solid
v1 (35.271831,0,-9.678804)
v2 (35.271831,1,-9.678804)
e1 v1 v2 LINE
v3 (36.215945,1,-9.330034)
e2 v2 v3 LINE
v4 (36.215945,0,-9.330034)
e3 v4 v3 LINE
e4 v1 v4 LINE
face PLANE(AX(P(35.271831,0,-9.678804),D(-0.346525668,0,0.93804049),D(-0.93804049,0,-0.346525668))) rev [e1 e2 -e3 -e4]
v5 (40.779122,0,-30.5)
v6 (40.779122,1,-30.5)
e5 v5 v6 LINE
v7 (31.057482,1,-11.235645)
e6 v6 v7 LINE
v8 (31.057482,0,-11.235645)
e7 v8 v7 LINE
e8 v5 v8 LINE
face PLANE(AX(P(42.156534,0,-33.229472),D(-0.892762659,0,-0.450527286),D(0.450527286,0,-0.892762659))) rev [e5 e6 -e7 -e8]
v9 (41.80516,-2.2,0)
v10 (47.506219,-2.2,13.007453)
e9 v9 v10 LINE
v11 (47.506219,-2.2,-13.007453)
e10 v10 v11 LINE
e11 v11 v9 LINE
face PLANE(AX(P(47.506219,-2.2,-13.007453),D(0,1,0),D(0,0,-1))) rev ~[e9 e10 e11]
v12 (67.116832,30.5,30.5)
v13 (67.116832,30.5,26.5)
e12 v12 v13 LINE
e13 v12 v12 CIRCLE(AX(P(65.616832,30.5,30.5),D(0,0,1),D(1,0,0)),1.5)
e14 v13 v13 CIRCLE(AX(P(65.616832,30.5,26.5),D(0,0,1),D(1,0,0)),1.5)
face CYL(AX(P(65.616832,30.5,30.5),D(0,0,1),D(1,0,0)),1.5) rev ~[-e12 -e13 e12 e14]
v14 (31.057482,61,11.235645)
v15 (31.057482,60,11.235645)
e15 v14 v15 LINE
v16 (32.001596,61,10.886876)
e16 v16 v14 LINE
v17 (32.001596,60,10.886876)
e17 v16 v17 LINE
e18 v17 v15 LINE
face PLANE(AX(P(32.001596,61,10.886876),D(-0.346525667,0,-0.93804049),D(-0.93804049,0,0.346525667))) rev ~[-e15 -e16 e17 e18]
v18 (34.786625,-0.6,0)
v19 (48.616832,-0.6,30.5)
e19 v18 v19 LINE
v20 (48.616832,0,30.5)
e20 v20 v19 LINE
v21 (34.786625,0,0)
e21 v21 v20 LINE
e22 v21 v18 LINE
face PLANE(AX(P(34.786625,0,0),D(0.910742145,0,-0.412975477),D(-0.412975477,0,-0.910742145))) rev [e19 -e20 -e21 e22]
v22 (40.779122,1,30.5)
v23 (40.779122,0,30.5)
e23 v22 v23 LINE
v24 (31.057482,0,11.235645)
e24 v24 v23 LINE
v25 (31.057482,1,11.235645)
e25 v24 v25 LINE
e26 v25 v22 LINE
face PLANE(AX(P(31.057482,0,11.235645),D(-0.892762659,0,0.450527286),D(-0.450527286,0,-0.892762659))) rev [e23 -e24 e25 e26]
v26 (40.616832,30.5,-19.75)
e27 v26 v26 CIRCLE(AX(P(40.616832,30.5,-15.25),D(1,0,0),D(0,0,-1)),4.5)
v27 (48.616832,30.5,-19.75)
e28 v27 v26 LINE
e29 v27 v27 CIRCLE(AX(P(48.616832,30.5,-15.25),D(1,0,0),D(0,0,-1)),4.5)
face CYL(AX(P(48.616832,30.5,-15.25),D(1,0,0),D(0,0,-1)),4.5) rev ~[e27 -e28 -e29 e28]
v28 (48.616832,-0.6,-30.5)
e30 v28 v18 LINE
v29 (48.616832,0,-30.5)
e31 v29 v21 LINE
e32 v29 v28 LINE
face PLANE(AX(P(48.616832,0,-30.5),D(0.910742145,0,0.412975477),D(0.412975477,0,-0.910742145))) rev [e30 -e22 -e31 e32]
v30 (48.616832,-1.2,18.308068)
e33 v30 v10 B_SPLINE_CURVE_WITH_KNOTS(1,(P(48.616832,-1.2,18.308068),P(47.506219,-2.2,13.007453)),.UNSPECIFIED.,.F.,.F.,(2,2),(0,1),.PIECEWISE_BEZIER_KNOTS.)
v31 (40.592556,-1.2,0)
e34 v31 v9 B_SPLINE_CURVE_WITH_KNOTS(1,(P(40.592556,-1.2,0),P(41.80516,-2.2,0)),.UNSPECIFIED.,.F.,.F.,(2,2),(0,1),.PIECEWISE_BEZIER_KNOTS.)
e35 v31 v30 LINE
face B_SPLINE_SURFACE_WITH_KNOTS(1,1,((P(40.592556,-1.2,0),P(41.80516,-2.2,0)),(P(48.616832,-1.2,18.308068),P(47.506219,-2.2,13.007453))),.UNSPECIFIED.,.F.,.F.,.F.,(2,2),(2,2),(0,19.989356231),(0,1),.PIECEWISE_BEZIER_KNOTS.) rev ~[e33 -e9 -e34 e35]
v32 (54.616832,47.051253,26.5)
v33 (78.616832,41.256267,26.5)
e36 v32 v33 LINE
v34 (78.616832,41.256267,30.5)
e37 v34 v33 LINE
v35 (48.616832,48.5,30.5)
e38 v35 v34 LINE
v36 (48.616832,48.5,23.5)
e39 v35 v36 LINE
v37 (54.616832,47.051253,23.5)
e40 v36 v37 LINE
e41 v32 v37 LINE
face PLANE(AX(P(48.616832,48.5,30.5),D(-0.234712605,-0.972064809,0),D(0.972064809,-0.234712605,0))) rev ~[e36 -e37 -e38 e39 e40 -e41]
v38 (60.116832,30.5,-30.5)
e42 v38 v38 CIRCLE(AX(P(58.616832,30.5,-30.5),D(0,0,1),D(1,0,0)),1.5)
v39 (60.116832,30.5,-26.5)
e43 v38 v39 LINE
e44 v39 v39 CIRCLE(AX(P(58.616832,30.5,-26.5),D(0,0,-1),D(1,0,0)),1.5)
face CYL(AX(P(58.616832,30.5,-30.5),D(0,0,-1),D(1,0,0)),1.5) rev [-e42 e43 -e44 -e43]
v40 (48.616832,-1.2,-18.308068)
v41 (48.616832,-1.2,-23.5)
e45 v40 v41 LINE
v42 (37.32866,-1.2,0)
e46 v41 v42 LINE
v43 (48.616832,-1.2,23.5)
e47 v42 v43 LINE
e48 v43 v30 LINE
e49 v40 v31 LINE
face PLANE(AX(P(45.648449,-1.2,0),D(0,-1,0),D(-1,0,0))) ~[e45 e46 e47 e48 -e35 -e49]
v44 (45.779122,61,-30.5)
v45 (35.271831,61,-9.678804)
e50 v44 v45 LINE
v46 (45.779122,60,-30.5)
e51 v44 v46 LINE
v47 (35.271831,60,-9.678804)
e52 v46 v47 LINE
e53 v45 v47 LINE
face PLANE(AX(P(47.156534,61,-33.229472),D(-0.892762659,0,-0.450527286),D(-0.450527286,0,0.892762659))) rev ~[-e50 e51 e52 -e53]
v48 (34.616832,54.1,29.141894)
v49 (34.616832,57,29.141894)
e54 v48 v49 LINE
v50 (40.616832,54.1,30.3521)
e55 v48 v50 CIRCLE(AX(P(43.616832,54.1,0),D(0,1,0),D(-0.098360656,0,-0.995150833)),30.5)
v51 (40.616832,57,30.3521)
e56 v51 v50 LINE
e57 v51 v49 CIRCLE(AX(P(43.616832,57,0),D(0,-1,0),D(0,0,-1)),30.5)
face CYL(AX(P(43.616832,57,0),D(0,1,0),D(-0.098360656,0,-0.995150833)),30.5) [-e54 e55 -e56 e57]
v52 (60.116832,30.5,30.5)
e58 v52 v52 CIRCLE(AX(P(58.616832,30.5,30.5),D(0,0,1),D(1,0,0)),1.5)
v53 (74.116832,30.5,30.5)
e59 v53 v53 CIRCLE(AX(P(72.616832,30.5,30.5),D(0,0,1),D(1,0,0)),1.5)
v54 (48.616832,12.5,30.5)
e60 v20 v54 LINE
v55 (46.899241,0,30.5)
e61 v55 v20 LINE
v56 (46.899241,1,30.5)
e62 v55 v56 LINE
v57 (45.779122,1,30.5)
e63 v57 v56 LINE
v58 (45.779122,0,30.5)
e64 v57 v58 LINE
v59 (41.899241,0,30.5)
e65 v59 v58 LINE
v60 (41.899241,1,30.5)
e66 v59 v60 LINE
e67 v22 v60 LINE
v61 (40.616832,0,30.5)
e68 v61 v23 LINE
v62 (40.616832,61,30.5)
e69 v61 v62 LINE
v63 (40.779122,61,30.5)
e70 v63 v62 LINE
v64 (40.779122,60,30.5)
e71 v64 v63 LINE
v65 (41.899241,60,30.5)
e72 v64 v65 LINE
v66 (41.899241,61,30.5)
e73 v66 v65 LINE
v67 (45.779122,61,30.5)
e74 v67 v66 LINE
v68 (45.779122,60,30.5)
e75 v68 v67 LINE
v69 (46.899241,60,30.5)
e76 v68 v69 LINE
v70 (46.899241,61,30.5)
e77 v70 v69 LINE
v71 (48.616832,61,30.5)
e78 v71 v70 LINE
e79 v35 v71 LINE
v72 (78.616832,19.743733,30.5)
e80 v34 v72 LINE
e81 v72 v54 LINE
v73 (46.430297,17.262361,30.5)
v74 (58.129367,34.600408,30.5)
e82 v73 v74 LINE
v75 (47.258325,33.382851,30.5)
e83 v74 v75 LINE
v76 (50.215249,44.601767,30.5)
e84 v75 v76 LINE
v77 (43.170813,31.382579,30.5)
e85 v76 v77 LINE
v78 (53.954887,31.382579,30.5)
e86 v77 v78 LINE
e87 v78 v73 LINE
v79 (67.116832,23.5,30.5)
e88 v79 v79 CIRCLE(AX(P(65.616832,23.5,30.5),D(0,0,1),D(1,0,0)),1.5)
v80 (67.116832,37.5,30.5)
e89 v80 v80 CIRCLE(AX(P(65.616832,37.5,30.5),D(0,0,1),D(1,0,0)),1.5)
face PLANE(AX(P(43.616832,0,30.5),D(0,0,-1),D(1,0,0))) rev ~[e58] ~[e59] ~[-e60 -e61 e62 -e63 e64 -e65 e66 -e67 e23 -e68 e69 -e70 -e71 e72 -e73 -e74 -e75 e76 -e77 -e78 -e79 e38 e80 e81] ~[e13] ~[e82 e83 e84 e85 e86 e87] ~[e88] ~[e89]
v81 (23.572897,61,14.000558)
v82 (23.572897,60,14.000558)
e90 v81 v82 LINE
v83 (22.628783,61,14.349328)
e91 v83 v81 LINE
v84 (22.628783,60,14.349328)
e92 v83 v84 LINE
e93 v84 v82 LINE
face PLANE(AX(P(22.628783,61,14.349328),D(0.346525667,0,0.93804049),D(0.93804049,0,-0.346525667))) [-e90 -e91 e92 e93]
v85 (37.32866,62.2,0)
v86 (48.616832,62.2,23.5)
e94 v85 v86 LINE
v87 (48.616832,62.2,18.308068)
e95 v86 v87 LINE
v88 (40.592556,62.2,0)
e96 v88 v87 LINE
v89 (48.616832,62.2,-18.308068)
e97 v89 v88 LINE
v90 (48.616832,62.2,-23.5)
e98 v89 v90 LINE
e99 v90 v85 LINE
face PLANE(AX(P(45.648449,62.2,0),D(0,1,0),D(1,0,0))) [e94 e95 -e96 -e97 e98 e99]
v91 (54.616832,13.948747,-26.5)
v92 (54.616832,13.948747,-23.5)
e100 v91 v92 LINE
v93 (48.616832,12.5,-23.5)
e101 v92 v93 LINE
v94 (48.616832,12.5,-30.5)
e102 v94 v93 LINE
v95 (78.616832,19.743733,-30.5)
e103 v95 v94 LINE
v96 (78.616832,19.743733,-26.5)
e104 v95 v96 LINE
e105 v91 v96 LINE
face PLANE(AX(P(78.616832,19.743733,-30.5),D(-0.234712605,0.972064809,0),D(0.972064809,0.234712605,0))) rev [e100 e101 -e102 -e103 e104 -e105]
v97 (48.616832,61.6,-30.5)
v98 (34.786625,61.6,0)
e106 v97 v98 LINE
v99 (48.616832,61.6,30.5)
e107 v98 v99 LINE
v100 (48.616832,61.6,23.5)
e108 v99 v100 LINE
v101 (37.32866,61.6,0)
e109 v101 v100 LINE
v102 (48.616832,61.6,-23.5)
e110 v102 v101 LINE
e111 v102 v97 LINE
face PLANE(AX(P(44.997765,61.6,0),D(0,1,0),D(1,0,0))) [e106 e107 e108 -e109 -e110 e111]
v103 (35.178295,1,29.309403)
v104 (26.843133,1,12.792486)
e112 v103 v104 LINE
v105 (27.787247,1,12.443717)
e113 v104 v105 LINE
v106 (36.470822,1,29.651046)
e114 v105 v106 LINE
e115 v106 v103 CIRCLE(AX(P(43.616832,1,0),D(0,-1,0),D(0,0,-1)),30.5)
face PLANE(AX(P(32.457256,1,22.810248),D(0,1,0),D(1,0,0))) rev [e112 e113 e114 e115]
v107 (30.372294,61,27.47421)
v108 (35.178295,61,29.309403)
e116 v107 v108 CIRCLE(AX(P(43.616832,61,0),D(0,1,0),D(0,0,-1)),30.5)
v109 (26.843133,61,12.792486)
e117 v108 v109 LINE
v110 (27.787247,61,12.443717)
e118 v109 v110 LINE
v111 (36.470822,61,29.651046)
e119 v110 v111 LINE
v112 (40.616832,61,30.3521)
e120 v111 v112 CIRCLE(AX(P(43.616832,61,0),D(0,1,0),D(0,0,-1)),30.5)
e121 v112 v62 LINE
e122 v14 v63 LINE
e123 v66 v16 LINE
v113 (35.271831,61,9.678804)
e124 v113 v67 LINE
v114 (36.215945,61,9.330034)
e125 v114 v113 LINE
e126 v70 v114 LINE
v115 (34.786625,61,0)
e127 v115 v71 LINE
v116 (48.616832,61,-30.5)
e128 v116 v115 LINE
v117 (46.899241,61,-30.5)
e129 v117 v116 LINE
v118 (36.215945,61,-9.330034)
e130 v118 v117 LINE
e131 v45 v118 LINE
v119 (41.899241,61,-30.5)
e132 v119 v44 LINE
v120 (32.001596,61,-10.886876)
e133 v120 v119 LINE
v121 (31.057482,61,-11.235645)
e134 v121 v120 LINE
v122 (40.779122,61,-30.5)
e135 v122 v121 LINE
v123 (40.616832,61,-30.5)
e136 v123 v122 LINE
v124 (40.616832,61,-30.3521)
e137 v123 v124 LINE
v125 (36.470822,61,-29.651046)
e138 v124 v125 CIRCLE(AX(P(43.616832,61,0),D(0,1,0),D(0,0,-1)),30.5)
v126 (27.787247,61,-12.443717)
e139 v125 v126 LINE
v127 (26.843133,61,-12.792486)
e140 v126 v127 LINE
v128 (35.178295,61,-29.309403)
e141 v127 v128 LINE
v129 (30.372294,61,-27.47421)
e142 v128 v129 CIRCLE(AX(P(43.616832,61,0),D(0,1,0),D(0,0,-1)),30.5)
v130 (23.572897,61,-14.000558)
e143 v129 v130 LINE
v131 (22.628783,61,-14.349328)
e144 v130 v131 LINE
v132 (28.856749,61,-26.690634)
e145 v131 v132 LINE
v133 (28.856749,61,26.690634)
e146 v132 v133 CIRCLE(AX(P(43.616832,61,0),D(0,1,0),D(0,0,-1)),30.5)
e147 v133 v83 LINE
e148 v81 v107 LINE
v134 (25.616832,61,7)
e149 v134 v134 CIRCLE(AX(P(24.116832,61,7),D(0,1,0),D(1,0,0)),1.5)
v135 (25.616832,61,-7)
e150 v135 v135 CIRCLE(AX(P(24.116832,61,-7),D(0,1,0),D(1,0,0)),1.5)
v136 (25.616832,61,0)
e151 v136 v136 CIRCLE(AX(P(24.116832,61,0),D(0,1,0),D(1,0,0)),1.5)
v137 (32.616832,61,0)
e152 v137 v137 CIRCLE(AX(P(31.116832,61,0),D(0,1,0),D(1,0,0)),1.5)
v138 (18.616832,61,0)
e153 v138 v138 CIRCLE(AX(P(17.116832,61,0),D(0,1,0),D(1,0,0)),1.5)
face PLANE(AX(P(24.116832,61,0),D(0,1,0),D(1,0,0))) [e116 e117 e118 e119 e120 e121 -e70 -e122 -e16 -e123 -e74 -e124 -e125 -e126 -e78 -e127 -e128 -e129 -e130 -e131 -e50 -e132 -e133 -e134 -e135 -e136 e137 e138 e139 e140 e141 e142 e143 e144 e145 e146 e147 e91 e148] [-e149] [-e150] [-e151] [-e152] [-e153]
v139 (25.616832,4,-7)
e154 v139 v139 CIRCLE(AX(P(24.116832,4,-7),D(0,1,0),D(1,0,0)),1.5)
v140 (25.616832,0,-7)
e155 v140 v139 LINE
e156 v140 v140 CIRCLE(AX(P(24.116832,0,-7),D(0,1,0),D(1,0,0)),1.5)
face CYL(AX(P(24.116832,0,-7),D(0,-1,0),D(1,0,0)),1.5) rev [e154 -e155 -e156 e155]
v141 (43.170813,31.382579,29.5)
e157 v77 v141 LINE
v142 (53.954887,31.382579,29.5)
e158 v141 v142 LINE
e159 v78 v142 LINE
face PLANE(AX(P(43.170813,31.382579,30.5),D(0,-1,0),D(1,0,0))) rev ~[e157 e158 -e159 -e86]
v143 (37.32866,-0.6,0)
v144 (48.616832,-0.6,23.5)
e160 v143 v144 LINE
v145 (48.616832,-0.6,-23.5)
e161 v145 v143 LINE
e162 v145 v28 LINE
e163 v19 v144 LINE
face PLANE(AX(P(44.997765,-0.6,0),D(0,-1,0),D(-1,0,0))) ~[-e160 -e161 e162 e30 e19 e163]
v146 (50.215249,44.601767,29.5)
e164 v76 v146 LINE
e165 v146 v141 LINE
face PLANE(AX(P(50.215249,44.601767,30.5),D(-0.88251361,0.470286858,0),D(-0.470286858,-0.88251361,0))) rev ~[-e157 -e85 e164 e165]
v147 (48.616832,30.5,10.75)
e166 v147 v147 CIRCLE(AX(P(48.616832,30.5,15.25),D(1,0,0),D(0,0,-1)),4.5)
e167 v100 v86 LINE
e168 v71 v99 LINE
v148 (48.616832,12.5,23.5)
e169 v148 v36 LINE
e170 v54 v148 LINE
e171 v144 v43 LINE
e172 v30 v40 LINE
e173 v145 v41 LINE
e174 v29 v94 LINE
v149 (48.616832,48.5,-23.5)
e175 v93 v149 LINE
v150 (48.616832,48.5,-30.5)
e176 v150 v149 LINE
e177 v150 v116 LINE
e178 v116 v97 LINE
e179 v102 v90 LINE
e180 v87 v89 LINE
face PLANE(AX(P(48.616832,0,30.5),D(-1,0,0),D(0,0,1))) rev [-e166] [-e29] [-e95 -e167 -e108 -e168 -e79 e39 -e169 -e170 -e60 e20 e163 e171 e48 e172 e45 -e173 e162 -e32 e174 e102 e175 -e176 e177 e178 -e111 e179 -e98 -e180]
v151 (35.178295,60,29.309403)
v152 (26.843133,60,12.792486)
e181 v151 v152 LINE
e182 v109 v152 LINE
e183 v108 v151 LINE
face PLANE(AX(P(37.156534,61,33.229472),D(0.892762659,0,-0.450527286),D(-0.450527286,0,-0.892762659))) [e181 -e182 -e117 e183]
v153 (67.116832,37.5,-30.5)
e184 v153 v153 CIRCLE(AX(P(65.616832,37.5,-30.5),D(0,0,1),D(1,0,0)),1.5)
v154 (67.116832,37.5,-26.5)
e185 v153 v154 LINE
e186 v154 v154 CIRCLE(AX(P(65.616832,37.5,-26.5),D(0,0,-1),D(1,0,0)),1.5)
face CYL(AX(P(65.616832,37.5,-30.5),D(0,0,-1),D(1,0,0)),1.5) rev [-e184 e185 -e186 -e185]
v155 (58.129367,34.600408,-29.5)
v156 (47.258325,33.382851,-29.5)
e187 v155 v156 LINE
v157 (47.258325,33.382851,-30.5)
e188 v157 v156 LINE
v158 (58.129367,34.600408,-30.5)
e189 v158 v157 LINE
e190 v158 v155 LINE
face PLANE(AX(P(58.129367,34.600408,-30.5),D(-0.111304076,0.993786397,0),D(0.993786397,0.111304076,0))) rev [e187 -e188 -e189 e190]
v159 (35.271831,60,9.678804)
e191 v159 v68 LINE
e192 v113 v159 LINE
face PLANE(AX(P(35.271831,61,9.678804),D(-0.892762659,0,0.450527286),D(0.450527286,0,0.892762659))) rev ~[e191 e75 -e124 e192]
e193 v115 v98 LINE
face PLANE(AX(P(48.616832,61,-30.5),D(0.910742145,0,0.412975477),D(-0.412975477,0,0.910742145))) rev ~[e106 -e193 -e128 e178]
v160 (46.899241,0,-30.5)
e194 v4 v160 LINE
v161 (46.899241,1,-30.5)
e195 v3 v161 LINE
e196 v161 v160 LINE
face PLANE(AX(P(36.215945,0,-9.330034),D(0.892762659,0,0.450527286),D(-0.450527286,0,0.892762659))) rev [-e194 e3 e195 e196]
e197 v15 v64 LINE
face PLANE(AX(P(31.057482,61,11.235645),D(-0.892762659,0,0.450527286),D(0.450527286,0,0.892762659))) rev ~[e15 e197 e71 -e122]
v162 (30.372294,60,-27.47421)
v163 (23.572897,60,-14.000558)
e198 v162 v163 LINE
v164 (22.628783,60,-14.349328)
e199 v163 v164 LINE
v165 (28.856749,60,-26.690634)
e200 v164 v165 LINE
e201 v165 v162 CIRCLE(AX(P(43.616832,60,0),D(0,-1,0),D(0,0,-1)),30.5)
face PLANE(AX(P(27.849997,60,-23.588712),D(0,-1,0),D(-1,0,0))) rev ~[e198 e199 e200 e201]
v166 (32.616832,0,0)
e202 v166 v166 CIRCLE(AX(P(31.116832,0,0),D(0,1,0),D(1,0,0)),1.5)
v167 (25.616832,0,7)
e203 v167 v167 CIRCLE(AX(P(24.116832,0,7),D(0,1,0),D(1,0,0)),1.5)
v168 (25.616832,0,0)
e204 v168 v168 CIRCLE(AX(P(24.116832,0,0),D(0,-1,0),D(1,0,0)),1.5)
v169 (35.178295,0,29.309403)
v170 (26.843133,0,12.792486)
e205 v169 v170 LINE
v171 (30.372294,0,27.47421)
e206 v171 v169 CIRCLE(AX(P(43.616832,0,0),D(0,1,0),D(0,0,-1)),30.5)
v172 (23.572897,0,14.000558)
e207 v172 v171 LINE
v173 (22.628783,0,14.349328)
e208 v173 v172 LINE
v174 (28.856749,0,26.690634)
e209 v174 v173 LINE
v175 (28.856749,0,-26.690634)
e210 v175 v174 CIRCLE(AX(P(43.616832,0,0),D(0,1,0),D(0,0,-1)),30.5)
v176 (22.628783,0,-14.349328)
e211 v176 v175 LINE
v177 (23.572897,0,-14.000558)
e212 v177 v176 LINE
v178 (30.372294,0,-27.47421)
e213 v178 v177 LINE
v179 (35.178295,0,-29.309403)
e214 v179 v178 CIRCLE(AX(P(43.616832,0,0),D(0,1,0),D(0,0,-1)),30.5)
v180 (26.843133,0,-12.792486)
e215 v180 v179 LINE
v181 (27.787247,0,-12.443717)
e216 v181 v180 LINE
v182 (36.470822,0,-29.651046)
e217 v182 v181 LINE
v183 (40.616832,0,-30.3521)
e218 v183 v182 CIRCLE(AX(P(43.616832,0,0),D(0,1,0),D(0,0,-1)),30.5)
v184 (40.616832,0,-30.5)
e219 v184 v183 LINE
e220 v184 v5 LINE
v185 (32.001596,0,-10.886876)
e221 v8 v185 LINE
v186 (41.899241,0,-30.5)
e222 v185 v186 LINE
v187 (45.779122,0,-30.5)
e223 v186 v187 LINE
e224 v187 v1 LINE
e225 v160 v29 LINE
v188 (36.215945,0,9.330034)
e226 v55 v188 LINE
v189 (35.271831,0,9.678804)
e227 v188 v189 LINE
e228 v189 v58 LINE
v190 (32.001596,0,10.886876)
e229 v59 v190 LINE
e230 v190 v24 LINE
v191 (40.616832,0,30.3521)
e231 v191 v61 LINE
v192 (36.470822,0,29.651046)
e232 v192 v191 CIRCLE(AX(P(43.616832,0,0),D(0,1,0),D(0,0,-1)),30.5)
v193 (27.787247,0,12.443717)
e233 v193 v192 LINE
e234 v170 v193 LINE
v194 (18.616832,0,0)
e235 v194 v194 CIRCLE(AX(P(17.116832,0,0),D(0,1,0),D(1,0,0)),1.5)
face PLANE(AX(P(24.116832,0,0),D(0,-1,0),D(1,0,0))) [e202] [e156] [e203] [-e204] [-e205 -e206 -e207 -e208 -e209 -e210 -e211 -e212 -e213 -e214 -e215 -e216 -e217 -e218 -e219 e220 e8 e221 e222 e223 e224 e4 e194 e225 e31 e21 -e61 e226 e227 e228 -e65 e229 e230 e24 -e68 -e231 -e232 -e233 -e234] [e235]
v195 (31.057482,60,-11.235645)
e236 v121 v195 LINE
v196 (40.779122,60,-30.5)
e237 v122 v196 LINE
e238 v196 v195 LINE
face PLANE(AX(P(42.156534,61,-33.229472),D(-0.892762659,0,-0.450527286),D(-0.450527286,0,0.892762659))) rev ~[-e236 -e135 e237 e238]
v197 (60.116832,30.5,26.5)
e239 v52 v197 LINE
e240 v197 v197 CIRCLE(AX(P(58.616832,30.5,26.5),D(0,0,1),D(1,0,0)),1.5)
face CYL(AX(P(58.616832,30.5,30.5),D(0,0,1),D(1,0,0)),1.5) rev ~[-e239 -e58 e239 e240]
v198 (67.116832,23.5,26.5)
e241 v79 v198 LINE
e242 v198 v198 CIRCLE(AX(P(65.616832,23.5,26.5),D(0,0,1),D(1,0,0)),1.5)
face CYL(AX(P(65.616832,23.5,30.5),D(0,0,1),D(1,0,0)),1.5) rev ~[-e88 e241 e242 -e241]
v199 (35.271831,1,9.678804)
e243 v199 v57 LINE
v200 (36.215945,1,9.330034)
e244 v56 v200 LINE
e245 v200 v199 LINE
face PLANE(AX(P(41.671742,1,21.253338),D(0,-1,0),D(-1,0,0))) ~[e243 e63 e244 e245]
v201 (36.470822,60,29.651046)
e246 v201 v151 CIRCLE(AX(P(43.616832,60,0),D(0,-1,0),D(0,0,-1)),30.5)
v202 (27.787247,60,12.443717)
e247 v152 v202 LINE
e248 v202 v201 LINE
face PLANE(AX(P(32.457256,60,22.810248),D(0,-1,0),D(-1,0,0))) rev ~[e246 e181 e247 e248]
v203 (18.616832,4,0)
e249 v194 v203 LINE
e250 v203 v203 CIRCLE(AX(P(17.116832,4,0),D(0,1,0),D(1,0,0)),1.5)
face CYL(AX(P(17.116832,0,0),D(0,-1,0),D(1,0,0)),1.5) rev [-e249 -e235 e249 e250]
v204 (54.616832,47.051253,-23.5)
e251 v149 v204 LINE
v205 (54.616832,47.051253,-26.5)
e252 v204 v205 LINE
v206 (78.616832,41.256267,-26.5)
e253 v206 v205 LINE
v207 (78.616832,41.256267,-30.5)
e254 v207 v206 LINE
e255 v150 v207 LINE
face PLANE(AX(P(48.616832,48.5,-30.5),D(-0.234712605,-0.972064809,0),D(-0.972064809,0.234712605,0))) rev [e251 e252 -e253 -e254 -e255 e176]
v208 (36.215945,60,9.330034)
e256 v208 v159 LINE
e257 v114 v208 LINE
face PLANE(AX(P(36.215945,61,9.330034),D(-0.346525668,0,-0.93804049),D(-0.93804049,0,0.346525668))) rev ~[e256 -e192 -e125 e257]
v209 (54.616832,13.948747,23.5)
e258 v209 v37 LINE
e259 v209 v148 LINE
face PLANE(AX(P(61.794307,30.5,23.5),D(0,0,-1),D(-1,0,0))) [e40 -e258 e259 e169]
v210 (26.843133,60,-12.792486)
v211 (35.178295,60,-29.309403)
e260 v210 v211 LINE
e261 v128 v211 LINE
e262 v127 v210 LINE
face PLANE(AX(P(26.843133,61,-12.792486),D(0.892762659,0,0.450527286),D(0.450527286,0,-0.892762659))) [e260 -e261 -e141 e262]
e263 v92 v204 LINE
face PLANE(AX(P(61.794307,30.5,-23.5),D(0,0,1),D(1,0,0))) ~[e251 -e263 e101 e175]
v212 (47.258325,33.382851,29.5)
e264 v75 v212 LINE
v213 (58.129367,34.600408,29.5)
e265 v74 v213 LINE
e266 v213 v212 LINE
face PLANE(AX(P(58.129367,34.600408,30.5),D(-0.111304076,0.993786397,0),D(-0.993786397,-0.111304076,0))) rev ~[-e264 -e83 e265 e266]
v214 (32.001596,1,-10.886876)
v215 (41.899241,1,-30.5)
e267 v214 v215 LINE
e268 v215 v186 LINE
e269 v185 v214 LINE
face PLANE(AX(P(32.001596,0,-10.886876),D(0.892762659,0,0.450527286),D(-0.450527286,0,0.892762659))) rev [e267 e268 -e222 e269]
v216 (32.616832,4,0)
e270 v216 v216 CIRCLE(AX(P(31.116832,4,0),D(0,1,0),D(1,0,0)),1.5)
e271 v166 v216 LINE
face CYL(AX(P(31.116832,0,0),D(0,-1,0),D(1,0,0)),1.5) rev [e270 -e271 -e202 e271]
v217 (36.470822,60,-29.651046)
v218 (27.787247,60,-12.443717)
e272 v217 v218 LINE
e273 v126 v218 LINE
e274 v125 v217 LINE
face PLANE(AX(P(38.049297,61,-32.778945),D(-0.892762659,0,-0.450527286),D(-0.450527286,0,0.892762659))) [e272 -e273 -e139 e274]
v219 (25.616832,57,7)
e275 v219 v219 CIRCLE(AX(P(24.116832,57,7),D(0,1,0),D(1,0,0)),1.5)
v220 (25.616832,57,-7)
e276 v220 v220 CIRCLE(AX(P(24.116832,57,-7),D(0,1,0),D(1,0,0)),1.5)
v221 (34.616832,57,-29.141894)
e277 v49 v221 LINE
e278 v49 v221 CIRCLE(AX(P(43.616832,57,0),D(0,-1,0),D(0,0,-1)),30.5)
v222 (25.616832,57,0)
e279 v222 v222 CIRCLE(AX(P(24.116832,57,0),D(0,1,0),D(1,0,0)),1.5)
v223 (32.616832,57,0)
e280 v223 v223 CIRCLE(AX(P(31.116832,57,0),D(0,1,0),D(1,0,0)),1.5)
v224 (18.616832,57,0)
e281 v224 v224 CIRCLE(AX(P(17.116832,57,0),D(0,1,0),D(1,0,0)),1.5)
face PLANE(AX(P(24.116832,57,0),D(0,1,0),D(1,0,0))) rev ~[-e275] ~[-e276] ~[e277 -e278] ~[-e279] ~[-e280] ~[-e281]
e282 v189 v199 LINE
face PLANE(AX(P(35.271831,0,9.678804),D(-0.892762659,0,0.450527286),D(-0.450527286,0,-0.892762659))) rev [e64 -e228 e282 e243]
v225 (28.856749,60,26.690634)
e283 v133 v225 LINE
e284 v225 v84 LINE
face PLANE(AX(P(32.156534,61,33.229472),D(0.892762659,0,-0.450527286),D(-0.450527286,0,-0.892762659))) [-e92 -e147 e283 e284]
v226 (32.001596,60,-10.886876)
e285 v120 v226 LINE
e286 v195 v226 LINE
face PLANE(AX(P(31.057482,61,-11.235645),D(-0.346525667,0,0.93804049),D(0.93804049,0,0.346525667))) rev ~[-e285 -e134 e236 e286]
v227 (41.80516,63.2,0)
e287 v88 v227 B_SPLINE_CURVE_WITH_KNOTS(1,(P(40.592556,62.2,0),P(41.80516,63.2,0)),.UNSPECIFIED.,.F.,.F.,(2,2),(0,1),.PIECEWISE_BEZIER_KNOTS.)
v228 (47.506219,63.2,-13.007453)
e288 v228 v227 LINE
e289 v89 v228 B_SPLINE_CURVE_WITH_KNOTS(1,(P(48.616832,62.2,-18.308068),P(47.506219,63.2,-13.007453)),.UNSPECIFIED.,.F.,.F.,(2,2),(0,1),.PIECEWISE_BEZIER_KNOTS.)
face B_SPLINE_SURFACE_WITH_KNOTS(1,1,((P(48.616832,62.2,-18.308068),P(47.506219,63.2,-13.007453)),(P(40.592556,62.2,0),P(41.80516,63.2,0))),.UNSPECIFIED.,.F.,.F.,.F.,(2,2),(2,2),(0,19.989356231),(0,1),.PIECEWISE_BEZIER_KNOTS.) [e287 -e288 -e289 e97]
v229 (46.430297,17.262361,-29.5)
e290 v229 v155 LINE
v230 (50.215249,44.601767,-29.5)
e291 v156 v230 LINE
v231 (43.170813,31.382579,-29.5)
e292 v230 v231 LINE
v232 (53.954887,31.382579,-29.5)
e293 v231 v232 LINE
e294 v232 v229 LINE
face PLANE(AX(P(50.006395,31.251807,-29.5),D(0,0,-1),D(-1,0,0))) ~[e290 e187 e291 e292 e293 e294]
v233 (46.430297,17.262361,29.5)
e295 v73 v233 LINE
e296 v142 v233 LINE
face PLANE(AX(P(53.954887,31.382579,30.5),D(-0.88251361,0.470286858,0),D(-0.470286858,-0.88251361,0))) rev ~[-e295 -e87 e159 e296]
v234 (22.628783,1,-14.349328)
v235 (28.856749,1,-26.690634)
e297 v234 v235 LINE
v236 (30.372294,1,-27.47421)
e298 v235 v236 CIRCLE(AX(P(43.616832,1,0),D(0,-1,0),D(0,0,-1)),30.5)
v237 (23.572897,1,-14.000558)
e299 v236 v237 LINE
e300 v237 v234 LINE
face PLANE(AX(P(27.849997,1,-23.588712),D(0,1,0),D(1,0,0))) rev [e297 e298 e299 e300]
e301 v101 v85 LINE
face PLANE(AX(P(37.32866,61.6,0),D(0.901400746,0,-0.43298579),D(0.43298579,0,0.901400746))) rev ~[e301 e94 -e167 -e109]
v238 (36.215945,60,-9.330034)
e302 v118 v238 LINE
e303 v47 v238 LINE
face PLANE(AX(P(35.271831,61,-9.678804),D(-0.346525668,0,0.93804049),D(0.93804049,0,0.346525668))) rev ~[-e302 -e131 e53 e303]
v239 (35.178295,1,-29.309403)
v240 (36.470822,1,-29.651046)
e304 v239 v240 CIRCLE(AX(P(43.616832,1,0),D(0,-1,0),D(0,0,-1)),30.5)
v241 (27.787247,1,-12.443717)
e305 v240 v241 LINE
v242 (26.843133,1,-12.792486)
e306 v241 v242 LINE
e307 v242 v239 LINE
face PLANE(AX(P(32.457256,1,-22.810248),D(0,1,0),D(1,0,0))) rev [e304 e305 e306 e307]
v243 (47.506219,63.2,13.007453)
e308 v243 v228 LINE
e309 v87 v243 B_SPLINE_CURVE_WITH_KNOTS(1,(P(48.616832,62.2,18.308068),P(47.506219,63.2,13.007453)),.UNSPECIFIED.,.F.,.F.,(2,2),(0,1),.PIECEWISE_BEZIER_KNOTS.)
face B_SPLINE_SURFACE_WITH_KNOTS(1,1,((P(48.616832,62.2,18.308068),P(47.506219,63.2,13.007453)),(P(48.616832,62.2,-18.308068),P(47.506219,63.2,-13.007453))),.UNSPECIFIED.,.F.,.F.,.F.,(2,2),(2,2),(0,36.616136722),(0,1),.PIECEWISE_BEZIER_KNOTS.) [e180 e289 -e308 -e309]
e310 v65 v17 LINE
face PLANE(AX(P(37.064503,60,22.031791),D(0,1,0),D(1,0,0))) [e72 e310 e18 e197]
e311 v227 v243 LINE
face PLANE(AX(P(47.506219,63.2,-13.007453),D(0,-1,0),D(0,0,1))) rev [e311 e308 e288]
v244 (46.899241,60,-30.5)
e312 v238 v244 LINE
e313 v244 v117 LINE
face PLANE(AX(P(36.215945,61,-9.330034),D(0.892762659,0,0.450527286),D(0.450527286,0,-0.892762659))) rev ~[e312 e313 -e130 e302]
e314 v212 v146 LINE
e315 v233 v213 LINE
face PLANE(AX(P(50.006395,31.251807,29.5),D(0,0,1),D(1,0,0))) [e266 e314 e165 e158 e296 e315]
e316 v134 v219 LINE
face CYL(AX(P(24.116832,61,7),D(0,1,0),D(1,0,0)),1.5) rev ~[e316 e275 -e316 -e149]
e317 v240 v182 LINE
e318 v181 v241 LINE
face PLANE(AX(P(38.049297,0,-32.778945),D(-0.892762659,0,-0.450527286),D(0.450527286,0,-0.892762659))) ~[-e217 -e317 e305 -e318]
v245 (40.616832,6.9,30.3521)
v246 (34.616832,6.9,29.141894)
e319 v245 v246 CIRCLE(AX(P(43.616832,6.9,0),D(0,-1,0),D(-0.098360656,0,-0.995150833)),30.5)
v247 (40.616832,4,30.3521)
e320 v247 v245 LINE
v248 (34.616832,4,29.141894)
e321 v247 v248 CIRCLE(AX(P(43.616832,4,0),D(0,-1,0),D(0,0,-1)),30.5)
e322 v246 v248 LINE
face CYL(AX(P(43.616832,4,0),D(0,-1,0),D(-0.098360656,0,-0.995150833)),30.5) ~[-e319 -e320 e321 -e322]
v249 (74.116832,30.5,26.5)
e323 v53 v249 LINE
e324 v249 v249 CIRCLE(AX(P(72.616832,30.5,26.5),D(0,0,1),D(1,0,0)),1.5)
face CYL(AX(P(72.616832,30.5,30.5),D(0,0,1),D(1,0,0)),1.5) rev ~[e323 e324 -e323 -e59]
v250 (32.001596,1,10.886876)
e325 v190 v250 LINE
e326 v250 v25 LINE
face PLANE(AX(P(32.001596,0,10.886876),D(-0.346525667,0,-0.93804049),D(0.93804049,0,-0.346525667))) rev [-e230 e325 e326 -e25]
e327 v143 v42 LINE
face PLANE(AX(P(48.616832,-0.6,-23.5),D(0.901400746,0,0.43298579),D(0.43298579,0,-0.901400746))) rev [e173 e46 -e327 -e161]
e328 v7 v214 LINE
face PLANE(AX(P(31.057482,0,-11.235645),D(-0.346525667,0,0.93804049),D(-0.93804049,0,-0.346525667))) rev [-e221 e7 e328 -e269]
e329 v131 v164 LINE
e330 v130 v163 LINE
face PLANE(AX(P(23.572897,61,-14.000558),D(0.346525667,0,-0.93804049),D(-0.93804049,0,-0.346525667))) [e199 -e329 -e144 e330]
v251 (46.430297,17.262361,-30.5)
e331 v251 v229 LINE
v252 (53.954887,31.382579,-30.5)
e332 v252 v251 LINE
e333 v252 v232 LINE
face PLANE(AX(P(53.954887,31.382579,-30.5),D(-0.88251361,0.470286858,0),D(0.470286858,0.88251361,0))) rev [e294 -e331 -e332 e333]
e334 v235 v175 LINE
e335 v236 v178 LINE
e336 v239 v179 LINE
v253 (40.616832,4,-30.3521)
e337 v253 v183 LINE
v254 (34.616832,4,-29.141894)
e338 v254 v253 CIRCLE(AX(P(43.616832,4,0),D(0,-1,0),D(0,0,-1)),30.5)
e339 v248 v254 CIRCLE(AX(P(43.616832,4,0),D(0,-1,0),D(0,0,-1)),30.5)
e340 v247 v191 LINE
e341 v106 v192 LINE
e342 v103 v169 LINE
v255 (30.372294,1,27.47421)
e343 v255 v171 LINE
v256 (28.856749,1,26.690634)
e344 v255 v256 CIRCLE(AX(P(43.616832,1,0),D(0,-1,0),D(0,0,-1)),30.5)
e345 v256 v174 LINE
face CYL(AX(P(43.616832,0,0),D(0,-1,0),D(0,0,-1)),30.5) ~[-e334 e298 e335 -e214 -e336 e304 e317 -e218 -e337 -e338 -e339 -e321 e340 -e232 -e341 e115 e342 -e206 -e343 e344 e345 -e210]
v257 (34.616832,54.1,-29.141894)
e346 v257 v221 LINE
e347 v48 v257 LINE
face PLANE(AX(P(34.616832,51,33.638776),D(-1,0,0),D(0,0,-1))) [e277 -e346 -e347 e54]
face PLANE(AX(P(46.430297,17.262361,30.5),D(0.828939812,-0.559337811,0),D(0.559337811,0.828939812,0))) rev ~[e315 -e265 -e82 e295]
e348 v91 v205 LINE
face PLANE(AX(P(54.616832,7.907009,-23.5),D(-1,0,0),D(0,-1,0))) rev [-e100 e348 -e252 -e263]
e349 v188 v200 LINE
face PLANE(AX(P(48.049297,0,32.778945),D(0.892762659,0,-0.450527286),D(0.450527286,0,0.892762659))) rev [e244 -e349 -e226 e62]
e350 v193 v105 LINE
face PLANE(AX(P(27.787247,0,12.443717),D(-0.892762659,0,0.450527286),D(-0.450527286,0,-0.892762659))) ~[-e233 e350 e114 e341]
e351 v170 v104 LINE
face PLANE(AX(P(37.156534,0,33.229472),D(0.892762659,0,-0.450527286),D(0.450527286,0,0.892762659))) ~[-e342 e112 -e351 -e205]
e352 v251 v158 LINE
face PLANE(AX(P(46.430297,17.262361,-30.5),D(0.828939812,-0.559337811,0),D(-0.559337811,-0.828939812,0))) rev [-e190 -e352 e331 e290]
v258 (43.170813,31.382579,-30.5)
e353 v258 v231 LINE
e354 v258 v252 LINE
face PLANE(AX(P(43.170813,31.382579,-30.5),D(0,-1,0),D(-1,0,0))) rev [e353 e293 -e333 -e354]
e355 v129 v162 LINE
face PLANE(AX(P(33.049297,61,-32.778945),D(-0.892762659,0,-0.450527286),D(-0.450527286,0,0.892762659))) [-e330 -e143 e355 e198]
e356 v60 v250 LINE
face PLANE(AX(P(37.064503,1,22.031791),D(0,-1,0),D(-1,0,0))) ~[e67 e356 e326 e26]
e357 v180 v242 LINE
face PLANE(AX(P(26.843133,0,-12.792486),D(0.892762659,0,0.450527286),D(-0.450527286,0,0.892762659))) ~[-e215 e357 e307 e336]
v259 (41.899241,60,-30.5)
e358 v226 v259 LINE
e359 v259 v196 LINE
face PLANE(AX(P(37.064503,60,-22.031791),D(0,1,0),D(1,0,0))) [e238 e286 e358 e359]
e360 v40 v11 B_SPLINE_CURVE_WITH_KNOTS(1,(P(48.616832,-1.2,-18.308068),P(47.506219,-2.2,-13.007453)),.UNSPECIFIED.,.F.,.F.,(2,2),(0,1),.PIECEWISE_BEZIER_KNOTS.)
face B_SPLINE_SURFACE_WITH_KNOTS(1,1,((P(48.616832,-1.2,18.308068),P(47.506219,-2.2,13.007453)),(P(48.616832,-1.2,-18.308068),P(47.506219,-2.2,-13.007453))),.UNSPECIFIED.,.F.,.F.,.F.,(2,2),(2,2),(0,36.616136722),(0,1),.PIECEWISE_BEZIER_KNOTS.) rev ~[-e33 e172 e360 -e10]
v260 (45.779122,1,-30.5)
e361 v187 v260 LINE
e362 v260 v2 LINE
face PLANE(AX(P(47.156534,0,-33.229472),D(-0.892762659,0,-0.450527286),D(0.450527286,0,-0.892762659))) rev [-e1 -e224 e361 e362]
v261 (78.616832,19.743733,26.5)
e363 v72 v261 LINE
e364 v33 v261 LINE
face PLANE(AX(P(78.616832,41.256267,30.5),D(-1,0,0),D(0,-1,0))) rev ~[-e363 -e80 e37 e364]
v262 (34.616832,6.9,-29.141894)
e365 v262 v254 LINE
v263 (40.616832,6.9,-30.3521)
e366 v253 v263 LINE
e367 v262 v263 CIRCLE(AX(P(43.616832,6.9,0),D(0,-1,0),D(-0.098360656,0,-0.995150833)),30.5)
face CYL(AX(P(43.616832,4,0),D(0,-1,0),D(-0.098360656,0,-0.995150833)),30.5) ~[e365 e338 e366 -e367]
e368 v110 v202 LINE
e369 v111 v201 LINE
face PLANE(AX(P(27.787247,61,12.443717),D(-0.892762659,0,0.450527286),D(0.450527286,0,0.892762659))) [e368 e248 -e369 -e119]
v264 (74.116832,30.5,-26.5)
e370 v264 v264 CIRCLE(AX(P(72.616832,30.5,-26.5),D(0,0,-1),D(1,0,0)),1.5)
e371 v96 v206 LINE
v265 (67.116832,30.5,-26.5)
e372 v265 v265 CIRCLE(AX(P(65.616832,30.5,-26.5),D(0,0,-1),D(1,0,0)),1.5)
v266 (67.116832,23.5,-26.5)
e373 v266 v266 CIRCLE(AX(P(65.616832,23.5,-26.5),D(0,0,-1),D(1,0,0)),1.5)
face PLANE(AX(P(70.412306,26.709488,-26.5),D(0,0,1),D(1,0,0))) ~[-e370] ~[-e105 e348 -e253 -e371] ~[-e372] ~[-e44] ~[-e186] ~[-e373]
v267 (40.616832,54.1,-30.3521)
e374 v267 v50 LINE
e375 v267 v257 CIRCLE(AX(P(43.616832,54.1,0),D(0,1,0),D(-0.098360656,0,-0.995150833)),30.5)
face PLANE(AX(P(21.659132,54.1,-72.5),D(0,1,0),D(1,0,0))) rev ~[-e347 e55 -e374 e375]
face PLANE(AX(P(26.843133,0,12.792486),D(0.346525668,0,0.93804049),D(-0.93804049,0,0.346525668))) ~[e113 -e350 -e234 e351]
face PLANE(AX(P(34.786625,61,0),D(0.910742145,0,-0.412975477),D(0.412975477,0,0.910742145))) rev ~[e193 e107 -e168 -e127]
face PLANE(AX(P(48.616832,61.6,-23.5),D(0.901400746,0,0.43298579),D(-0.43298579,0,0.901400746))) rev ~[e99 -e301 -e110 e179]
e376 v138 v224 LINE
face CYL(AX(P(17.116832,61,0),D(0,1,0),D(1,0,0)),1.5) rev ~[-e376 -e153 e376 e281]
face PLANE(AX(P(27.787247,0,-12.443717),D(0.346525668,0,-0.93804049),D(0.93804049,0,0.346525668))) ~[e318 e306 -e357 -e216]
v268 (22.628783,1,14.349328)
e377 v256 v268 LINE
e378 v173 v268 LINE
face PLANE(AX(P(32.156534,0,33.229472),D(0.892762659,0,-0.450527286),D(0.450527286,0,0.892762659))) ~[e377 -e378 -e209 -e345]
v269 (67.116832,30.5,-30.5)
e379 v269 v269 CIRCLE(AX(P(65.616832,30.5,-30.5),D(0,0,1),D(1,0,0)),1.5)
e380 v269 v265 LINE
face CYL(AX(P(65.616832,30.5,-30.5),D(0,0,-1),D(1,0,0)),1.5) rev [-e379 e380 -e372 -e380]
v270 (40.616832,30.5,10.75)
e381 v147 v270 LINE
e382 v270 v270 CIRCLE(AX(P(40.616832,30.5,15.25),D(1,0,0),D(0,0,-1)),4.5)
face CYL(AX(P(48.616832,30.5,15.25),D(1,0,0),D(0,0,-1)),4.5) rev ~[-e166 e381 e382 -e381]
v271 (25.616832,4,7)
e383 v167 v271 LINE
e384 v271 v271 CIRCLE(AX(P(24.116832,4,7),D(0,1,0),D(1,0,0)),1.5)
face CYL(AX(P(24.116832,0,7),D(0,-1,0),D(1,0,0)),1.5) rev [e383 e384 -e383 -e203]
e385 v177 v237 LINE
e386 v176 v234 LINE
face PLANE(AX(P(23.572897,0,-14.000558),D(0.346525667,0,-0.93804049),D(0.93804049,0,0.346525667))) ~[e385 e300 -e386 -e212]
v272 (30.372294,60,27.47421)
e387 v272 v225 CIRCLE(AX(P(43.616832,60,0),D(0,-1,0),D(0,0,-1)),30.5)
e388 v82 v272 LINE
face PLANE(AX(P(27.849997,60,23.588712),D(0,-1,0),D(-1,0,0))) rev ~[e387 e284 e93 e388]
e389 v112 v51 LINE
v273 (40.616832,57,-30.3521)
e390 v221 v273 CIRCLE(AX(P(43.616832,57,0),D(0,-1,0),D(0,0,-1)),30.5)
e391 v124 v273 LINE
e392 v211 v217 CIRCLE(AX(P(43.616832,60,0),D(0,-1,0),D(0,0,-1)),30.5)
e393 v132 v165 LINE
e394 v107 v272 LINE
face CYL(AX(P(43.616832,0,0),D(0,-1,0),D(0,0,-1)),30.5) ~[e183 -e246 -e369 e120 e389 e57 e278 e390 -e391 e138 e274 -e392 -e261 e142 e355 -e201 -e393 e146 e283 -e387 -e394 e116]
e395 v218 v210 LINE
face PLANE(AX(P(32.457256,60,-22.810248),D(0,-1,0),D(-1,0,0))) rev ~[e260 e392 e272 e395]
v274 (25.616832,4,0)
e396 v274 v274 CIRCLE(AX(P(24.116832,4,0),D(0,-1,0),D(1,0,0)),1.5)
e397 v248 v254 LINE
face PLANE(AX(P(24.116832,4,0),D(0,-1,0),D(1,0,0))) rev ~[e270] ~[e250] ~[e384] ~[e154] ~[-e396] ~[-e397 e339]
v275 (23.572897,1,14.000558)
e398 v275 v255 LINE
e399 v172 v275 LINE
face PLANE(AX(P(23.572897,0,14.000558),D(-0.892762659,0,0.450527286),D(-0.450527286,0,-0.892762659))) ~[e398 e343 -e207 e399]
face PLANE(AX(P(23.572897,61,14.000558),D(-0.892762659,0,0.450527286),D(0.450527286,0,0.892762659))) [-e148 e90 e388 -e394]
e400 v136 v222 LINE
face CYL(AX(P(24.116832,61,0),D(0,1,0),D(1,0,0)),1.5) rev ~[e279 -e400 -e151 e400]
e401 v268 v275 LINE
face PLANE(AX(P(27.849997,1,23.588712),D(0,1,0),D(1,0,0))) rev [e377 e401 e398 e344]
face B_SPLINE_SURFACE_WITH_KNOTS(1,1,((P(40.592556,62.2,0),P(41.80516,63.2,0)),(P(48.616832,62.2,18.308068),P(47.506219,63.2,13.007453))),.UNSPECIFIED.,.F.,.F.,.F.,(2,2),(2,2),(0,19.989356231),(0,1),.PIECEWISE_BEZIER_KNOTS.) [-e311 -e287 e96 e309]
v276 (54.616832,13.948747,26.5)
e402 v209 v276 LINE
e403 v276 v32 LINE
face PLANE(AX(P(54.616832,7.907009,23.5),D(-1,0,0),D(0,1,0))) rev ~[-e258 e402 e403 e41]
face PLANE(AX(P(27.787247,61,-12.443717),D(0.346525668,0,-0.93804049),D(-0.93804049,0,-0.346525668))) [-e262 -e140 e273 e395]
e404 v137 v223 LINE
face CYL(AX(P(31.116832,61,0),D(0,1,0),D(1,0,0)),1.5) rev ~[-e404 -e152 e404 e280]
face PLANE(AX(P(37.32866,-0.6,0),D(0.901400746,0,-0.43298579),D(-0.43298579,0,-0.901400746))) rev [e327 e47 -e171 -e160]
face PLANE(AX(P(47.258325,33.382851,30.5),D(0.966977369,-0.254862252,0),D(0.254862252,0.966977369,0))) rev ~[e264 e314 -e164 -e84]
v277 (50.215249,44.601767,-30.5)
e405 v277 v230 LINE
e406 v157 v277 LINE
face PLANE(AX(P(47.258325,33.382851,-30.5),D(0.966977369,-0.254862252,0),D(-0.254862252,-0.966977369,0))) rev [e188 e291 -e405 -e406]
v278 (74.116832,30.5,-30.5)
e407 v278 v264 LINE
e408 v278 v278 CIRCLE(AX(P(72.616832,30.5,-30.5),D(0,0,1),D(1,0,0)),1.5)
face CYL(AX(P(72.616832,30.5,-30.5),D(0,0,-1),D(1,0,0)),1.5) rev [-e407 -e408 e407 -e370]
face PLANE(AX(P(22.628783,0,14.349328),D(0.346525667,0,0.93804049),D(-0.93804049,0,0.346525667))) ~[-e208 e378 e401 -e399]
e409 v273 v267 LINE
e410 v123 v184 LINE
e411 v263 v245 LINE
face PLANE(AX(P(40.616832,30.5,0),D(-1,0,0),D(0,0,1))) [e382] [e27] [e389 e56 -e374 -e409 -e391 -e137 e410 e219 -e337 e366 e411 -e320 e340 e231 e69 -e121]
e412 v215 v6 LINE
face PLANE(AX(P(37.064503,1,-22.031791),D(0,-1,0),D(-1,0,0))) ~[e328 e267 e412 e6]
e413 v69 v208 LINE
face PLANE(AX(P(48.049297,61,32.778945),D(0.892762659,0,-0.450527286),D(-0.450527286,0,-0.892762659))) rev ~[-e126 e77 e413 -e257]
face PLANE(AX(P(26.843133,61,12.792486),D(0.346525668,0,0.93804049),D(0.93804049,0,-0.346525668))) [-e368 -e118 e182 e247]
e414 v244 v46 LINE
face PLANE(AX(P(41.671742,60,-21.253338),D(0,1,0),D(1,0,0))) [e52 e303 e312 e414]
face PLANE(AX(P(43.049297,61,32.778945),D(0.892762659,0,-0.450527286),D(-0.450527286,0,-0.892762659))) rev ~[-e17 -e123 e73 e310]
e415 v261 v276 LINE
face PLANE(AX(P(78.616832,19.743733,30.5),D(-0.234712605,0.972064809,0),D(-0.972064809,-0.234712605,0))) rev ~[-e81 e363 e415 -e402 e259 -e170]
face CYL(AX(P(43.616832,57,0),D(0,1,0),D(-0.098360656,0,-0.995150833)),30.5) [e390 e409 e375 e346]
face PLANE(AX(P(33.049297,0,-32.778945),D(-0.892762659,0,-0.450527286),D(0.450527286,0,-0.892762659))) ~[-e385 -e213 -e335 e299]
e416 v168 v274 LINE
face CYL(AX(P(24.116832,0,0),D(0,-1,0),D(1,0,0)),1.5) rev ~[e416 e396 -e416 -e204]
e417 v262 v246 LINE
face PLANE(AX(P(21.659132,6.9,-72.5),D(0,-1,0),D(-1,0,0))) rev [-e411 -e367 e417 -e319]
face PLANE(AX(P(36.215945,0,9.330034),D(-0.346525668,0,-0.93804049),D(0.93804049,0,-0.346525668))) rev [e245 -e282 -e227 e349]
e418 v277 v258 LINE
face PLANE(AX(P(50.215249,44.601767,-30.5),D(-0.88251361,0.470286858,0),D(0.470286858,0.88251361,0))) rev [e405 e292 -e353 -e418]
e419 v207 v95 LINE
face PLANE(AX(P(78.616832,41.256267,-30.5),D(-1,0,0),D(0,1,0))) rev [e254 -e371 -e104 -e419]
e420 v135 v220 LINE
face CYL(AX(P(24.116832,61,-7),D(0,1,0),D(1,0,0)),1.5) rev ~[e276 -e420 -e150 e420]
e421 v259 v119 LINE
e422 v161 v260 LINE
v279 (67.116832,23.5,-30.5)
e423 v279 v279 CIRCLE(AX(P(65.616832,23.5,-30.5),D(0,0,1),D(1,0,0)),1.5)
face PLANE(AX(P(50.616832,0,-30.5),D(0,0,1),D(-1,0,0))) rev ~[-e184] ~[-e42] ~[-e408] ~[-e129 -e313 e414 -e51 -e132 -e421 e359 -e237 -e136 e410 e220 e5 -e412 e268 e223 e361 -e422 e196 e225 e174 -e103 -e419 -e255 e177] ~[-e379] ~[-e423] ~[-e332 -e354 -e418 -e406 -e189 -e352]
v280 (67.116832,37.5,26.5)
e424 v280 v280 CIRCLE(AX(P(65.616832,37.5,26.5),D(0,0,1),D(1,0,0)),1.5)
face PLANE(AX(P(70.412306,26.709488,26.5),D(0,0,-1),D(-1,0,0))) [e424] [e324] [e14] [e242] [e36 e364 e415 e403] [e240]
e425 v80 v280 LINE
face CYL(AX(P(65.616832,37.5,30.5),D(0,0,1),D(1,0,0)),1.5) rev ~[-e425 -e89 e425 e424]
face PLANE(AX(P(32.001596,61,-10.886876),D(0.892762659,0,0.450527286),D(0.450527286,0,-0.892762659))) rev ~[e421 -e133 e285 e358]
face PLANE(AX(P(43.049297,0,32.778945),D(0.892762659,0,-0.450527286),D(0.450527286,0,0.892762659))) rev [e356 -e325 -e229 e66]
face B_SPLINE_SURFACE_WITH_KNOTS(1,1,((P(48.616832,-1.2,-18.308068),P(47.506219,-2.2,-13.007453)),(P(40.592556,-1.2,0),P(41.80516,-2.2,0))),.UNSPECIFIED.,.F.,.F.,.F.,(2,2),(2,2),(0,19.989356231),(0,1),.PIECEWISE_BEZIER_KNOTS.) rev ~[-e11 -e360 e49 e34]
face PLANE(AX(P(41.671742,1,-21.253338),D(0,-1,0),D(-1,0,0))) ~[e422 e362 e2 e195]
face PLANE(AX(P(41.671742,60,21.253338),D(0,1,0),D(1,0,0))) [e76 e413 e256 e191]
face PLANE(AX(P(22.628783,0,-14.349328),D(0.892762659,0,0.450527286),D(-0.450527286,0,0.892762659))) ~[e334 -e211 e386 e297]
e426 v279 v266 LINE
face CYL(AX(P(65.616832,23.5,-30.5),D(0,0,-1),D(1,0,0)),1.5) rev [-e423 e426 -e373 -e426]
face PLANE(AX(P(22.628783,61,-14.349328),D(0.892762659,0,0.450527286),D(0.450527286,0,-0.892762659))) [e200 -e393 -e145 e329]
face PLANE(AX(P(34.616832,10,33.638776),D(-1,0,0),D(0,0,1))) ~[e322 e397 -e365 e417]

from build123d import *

# Parameters (mm, degrees)
EXTRUDE_1_DEPTH      = 61
SKETCH_2_W           = 40
SKETCH_2_H           = 53
CUT_EXTRUDE_1_DEPTH  = 61
SKETCH_3_R           = 4
CUT_EXTRUDE_2_DEPTH  = 61
SKETCH_6_W           = 61
SKETCH_6_H           = 61
EXTRUDE_3_DEPTH      = 6
EXTRUDE_4_DEPTH      = 6
CUT_EXTRUDE_4_DEPTH  = 6
SKETCH_21_R          = 4
SKETCH_21_R_2        = 1.5
EXTRUDE_10_DEPTH     = 4
SKETCH_22_R          = 1.5
CUT_EXTRUDE_11_DEPTH = 4
SKETCH_23_W          = 61
SKETCH_23_H          = 61
CUT_EXTRUDE_12_DEPTH = 2
CUT_EXTRUDE_START    = -103
SKETCH_24_W          = 18.957699184
SKETCH_24_H          = 3.1
CUT_EXTRUDE_13_DEPTH = 141
SKETCH_25_R          = 4
SKETCH_25_R_2        = 1.5
EXTRUDE_11_DEPTH     = 4
SKETCH_26_R          = 1.5
EXTRUDE_12_DEPTH     = 7
CUT_EXTRUDE_14_DEPTH = 3
SKETCH_30_R          = 4.5
CUT_EXTRUDE_15_DEPTH = 46
EXTRUDE_14_DEPTH     = 0.6
EXTRUDE_15_DEPTH     = 0.6
EXTRUDE_16_DEPTH     = 1
EXTRUDE_16_TAPER     = 48
CUT_EXTRUDE_16_DEPTH = 1
CUT_EXTRUDE_17_DEPTH = 1


with BuildPart() as part:
    # 草图1 → 凸台-拉伸1 (new body)
    with BuildSketch(Plane(origin=(0, 0, 0), x_dir=(1, 0, 0), z_dir=(0, 1, 0))):
        with BuildLine():
            Line((43.616831607, -30.5), (50.616831607, -30.5))
            Line((50.616831607, -30.5), (50.616831607, 30.5))
            Line((50.616831607, 30.5), (43.616831607, 30.5))
            ThreePointArc((43.616831607, 30.5), (13.116831607, 0), (43.616831607, -30.5))
        make_face()
    extrude(amount=EXTRUDE_1_DEPTH)

    # 草图2 → 切除-拉伸1 (cut)
    with BuildSketch(Plane.XY.offset(30.5)):
        with Locations((26.616831607, 30.5)):
            Rectangle(SKETCH_2_W, SKETCH_2_H)
    extrude(amount=-CUT_EXTRUDE_1_DEPTH, mode=Mode.SUBTRACT)

    # 草图3 → 切除-拉伸2 (cut)
    with BuildSketch(Plane(origin=(0, 61, 0), x_dir=(1, 0, 0), z_dir=(0, 1, 0))):
        with Locations((24.116831607, 0)):
            Circle(SKETCH_3_R)
    extrude(amount=-CUT_EXTRUDE_2_DEPTH, mode=Mode.SUBTRACT)

    # 草图6 → 凸台-拉伸3 (add)
    with BuildSketch(Plane.ZY.offset(-46.616831607)):
        with Locations((0, 30.5)):
            Rectangle(SKETCH_6_W, SKETCH_6_H)
    extrude(amount=EXTRUDE_3_DEPTH)

    # 草图7 → 凸台-拉伸4 (add)
    with BuildSketch(Plane.XZ.offset(-57)):
        with BuildLine():
            Line((40.616831607, 30.352100422), (40.616831607, -30.352100422))
            ThreePointArc((40.616831607, -30.352100422), (13.116831607, 0), (40.616831607, 30.352100422))
        make_face()
    extrude_4 = extrude(amount=EXTRUDE_4_DEPTH)

    # 草图8 → 切除-拉伸4 (cut)
    with BuildSketch(Plane.XZ.offset(-51)):
        Polygon((9.690406562, -10), (9.690406562, 10), (24.116831607, 30.269119374), (34.616831607, 33.638775852), (34.616831607, -30.352100422), (24.116831607, -25.227142121), align=None)
    cut_extrude_4 = extrude(amount=-CUT_EXTRUDE_4_DEPTH, mode=Mode.SUBTRACT)

    # 草图21 → 凸台-拉伸10 (add)
    with BuildSketch(Plane(origin=(0, 61, 0), x_dir=(1, 0, 0), z_dir=(0, 1, 0))):
        with Locations((24.116831607, 0)):
            Circle(SKETCH_21_R)
        with Locations((24.116831607, 0)):
            Circle(SKETCH_21_R_2, mode=Mode.SUBTRACT)
    extrude(amount=-EXTRUDE_10_DEPTH)

    # 草图22 → 切除-拉伸11 (cut)
    with BuildSketch(Plane(origin=(0, 61, 0), x_dir=(1, 0, 0), z_dir=(0, 1, 0))):
        with Locations((31.116831607, 0)):
            Circle(SKETCH_22_R)
        with Locations((24.116831607, -7)):
            Circle(SKETCH_22_R)
        with Locations((17.116831607, 0)):
            Circle(SKETCH_22_R)
        with Locations((24.116831607, 7)):
            Circle(SKETCH_22_R)
    cut_extrude_11 = extrude(amount=-CUT_EXTRUDE_11_DEPTH, mode=Mode.SUBTRACT)

    # 草图23 → 切除-拉伸12 (cut)
    with BuildSketch(Plane(origin=(50.616831607, 0, 0), x_dir=(0, 0, -1), z_dir=(1, 0, 0))):
        with Locations((0, 30.5)):
            Rectangle(SKETCH_23_W, SKETCH_23_H)
    extrude(amount=-CUT_EXTRUDE_12_DEPTH, mode=Mode.SUBTRACT)

    # 草图24 → 切除-拉伸13 (cut)
    with BuildSketch(Plane.XY.offset(30.5).offset(CUT_EXTRUDE_START)):
        with Locations((31.137982015, 52.55)):
            Rectangle(SKETCH_24_W, SKETCH_24_H)
    cut_extrude_13 = extrude(amount=CUT_EXTRUDE_13_DEPTH, mode=Mode.SUBTRACT)

    # 镜向1: 凸台-拉伸4, 切除-拉伸4, 切除-拉伸11, 切除-拉伸13 across plane
    add(extrude_4.mirror(Plane(origin=(0, 30.5, 0), x_dir=(0, 0, 1), z_dir=(0, -1, 0))))
    add(cut_extrude_4.mirror(Plane(origin=(0, 30.5, 0), x_dir=(0, 0, 1), z_dir=(0, -1, 0))), mode=Mode.SUBTRACT)
    add(cut_extrude_11.mirror(Plane(origin=(0, 30.5, 0), x_dir=(0, 0, 1), z_dir=(0, -1, 0))), mode=Mode.SUBTRACT)
    add(cut_extrude_13.mirror(Plane(origin=(0, 30.5, 0), x_dir=(0, 0, 1), z_dir=(0, -1, 0))), mode=Mode.SUBTRACT)

    # 草图25 → 凸台-拉伸11 (add)
    with BuildSketch(Plane.XZ):
        with Locations((24.116831607, 0)):
            Circle(SKETCH_25_R)
        with Locations((24.116831607, 0)):
            Circle(SKETCH_25_R_2, mode=Mode.SUBTRACT)
    extrude(amount=-EXTRUDE_11_DEPTH)

    # 草图26 → 凸台-拉伸12 (add)
    with BuildSketch(Plane.XY.offset(30.5)):
        Polygon((48.616831607, 12.5), (48.616831607, 48.5), (78.616831607, 41.256266774), (78.616831607, 19.743733226), align=None)
        with Locations((65.616831607, 30.5)):
            Circle(SKETCH_26_R, mode=Mode.SUBTRACT)
        with Locations((65.616831607, 37.5)):
            Circle(SKETCH_26_R, mode=Mode.SUBTRACT)
        with Locations((72.616831607, 30.5)):
            Circle(SKETCH_26_R, mode=Mode.SUBTRACT)
        with Locations((65.616831607, 23.5)):
            Circle(SKETCH_26_R, mode=Mode.SUBTRACT)
        with Locations((58.616831607, 30.5)):
            Circle(SKETCH_26_R, mode=Mode.SUBTRACT)
    extrude_12 = extrude(amount=-EXTRUDE_12_DEPTH)

    # 草图27 → 切除-拉伸14 (cut)
    with BuildSketch(Plane(origin=(0, 0, 23.5), x_dir=(-1, 0, 0), z_dir=(0, 0, -1))):
        Polygon((-65.616831607, 49.155948688), (-88.62878141, 40.6), (-88.62878141, 5.471682321), (-65.616831607, 5.471682321), (-55.516831607, 5.471682321), (-54.616831607, 7.907008969), (-54.616831607, 48.5), (-55.516831607, 53.096755827), align=None)
    cut_extrude_14 = extrude(amount=-CUT_EXTRUDE_14_DEPTH, mode=Mode.SUBTRACT)

    # 镜向2: 凸台-拉伸12, 切除-拉伸14 across plane
    add(extrude_12.mirror(Plane.XY))
    add(cut_extrude_14.mirror(Plane.XY), mode=Mode.SUBTRACT)

    # 草图30 → 切除-拉伸15 (cut)
    with BuildSketch(Plane(origin=(48.616831607, 0, 0), x_dir=(0, 0, -1), z_dir=(1, 0, 0))):
        with Locations((-15.25, 30.5)):
            Circle(SKETCH_30_R)
        with Locations((15.25, 30.5)):
            Circle(SKETCH_30_R)
    extrude(amount=-CUT_EXTRUDE_15_DEPTH, mode=Mode.SUBTRACT)

    # 草图31 → 凸台-拉伸14 (add)
    with BuildSketch(Plane(origin=(0, 61, 0), x_dir=(1, 0, 0), z_dir=(0, 1, 0))):
        Polygon((48.616831607, 30.5), (34.786624989, 0), (48.616831607, -30.5), align=None)
    extrude_14 = extrude(amount=EXTRUDE_14_DEPTH)

    # 草图32 → 凸台-拉伸15 (add)
    with BuildSketch(Plane(origin=(0, 61.6, 0), x_dir=(1, 0, 0), z_dir=(0, 1, 0))):
        Polygon((48.616831607, 23.5), (37.328660261, 0), (48.616831607, -23.5), align=None)
    extrude_15 = extrude(amount=EXTRUDE_15_DEPTH)

    # 草图33 → 凸台-拉伸16 (add)
    with BuildSketch(Plane(origin=(0, 62.2, 0), x_dir=(1, 0, 0), z_dir=(0, 1, 0))):
        Polygon((48.616831607, 18.308068361), (40.592556225, 0), (48.616831607, -18.308068361), align=None)
    extrude_16 = extrude(amount=EXTRUDE_16_DEPTH, taper=EXTRUDE_16_TAPER)

    # 草图34 → 切除-拉伸16 (cut)
    with BuildSketch(Plane(origin=(0, 61, 0), x_dir=(1, 0, 0), z_dir=(0, 1, 0))):
        Polygon((36.215945499, 9.330034221), (48.049296547, 32.77894458), (47.156533889, 33.229471866), (35.271831325, 9.678803595), align=None)
        Polygon((27.787246694, 12.443716957), (26.84313252, 12.792486331), (37.156533889, 33.229471866), (38.049296547, 32.77894458), align=None)
        Polygon((32.001596097, 10.886875589), (43.049296547, 32.77894458), (42.156533889, 33.229471866), (31.057481922, 11.235644963), align=None)
        Polygon((23.572897292, 14.000558325), (22.628783117, 14.349327699), (32.156533889, 33.229471866), (33.049296547, 32.77894458), align=None)
        Polygon((32.001596097, -10.886875589), (31.057481922, -11.235644963), (42.156533889, -33.229471866), (43.049296547, -32.77894458), align=None)
        Polygon((36.215945499, -9.330034221), (35.271831325, -9.678803595), (47.156533889, -33.229471866), (48.049296547, -32.77894458), align=None)
        Polygon((33.049296547, -32.77894458), (32.156533889, -33.229471866), (22.628783117, -14.349327699), (23.572897292, -14.000558325), align=None)
        Polygon((38.049296547, -32.77894458), (37.156533889, -33.229471866), (26.84313252, -12.792486331), (27.787246694, -12.443716957), align=None)
    cut_extrude_16 = extrude(amount=-CUT_EXTRUDE_16_DEPTH, mode=Mode.SUBTRACT)

    # 草图35 → 切除-拉伸17 (cut)
    with BuildSketch(Plane.XY.offset(30.5)):
        Polygon((50.215248512, 44.601766544), (43.170813126, 31.382579155), (53.95488705, 31.382579155), (46.430297324, 17.262361399), (58.129367278, 34.600407664), (47.258325017, 33.382850931), align=None)
    cut_extrude_17 = extrude(amount=-CUT_EXTRUDE_17_DEPTH, mode=Mode.SUBTRACT)

    # 镜向3: 切除-拉伸17 across plane
    add(cut_extrude_17.mirror(Plane.XY), mode=Mode.SUBTRACT)

    # 镜向4: 凸台-拉伸14, 凸台-拉伸15, 凸台-拉伸16, 切除-拉伸16 across plane
    add(extrude_14.mirror(Plane(origin=(0, 30.5, 0), x_dir=(0, 0, 1), z_dir=(0, -1, 0))))
    add(extrude_15.mirror(Plane(origin=(0, 30.5, 0), x_dir=(0, 0, 1), z_dir=(0, -1, 0))))
    add(extrude_16.mirror(Plane(origin=(0, 30.5, 0), x_dir=(0, 0, 1), z_dir=(0, -1, 0))))
    add(cut_extrude_16.mirror(Plane(origin=(0, 30.5, 0), x_dir=(0, 0, 1), z_dir=(0, -1, 0))), mode=Mode.SUBTRACT)


solid = part.part
